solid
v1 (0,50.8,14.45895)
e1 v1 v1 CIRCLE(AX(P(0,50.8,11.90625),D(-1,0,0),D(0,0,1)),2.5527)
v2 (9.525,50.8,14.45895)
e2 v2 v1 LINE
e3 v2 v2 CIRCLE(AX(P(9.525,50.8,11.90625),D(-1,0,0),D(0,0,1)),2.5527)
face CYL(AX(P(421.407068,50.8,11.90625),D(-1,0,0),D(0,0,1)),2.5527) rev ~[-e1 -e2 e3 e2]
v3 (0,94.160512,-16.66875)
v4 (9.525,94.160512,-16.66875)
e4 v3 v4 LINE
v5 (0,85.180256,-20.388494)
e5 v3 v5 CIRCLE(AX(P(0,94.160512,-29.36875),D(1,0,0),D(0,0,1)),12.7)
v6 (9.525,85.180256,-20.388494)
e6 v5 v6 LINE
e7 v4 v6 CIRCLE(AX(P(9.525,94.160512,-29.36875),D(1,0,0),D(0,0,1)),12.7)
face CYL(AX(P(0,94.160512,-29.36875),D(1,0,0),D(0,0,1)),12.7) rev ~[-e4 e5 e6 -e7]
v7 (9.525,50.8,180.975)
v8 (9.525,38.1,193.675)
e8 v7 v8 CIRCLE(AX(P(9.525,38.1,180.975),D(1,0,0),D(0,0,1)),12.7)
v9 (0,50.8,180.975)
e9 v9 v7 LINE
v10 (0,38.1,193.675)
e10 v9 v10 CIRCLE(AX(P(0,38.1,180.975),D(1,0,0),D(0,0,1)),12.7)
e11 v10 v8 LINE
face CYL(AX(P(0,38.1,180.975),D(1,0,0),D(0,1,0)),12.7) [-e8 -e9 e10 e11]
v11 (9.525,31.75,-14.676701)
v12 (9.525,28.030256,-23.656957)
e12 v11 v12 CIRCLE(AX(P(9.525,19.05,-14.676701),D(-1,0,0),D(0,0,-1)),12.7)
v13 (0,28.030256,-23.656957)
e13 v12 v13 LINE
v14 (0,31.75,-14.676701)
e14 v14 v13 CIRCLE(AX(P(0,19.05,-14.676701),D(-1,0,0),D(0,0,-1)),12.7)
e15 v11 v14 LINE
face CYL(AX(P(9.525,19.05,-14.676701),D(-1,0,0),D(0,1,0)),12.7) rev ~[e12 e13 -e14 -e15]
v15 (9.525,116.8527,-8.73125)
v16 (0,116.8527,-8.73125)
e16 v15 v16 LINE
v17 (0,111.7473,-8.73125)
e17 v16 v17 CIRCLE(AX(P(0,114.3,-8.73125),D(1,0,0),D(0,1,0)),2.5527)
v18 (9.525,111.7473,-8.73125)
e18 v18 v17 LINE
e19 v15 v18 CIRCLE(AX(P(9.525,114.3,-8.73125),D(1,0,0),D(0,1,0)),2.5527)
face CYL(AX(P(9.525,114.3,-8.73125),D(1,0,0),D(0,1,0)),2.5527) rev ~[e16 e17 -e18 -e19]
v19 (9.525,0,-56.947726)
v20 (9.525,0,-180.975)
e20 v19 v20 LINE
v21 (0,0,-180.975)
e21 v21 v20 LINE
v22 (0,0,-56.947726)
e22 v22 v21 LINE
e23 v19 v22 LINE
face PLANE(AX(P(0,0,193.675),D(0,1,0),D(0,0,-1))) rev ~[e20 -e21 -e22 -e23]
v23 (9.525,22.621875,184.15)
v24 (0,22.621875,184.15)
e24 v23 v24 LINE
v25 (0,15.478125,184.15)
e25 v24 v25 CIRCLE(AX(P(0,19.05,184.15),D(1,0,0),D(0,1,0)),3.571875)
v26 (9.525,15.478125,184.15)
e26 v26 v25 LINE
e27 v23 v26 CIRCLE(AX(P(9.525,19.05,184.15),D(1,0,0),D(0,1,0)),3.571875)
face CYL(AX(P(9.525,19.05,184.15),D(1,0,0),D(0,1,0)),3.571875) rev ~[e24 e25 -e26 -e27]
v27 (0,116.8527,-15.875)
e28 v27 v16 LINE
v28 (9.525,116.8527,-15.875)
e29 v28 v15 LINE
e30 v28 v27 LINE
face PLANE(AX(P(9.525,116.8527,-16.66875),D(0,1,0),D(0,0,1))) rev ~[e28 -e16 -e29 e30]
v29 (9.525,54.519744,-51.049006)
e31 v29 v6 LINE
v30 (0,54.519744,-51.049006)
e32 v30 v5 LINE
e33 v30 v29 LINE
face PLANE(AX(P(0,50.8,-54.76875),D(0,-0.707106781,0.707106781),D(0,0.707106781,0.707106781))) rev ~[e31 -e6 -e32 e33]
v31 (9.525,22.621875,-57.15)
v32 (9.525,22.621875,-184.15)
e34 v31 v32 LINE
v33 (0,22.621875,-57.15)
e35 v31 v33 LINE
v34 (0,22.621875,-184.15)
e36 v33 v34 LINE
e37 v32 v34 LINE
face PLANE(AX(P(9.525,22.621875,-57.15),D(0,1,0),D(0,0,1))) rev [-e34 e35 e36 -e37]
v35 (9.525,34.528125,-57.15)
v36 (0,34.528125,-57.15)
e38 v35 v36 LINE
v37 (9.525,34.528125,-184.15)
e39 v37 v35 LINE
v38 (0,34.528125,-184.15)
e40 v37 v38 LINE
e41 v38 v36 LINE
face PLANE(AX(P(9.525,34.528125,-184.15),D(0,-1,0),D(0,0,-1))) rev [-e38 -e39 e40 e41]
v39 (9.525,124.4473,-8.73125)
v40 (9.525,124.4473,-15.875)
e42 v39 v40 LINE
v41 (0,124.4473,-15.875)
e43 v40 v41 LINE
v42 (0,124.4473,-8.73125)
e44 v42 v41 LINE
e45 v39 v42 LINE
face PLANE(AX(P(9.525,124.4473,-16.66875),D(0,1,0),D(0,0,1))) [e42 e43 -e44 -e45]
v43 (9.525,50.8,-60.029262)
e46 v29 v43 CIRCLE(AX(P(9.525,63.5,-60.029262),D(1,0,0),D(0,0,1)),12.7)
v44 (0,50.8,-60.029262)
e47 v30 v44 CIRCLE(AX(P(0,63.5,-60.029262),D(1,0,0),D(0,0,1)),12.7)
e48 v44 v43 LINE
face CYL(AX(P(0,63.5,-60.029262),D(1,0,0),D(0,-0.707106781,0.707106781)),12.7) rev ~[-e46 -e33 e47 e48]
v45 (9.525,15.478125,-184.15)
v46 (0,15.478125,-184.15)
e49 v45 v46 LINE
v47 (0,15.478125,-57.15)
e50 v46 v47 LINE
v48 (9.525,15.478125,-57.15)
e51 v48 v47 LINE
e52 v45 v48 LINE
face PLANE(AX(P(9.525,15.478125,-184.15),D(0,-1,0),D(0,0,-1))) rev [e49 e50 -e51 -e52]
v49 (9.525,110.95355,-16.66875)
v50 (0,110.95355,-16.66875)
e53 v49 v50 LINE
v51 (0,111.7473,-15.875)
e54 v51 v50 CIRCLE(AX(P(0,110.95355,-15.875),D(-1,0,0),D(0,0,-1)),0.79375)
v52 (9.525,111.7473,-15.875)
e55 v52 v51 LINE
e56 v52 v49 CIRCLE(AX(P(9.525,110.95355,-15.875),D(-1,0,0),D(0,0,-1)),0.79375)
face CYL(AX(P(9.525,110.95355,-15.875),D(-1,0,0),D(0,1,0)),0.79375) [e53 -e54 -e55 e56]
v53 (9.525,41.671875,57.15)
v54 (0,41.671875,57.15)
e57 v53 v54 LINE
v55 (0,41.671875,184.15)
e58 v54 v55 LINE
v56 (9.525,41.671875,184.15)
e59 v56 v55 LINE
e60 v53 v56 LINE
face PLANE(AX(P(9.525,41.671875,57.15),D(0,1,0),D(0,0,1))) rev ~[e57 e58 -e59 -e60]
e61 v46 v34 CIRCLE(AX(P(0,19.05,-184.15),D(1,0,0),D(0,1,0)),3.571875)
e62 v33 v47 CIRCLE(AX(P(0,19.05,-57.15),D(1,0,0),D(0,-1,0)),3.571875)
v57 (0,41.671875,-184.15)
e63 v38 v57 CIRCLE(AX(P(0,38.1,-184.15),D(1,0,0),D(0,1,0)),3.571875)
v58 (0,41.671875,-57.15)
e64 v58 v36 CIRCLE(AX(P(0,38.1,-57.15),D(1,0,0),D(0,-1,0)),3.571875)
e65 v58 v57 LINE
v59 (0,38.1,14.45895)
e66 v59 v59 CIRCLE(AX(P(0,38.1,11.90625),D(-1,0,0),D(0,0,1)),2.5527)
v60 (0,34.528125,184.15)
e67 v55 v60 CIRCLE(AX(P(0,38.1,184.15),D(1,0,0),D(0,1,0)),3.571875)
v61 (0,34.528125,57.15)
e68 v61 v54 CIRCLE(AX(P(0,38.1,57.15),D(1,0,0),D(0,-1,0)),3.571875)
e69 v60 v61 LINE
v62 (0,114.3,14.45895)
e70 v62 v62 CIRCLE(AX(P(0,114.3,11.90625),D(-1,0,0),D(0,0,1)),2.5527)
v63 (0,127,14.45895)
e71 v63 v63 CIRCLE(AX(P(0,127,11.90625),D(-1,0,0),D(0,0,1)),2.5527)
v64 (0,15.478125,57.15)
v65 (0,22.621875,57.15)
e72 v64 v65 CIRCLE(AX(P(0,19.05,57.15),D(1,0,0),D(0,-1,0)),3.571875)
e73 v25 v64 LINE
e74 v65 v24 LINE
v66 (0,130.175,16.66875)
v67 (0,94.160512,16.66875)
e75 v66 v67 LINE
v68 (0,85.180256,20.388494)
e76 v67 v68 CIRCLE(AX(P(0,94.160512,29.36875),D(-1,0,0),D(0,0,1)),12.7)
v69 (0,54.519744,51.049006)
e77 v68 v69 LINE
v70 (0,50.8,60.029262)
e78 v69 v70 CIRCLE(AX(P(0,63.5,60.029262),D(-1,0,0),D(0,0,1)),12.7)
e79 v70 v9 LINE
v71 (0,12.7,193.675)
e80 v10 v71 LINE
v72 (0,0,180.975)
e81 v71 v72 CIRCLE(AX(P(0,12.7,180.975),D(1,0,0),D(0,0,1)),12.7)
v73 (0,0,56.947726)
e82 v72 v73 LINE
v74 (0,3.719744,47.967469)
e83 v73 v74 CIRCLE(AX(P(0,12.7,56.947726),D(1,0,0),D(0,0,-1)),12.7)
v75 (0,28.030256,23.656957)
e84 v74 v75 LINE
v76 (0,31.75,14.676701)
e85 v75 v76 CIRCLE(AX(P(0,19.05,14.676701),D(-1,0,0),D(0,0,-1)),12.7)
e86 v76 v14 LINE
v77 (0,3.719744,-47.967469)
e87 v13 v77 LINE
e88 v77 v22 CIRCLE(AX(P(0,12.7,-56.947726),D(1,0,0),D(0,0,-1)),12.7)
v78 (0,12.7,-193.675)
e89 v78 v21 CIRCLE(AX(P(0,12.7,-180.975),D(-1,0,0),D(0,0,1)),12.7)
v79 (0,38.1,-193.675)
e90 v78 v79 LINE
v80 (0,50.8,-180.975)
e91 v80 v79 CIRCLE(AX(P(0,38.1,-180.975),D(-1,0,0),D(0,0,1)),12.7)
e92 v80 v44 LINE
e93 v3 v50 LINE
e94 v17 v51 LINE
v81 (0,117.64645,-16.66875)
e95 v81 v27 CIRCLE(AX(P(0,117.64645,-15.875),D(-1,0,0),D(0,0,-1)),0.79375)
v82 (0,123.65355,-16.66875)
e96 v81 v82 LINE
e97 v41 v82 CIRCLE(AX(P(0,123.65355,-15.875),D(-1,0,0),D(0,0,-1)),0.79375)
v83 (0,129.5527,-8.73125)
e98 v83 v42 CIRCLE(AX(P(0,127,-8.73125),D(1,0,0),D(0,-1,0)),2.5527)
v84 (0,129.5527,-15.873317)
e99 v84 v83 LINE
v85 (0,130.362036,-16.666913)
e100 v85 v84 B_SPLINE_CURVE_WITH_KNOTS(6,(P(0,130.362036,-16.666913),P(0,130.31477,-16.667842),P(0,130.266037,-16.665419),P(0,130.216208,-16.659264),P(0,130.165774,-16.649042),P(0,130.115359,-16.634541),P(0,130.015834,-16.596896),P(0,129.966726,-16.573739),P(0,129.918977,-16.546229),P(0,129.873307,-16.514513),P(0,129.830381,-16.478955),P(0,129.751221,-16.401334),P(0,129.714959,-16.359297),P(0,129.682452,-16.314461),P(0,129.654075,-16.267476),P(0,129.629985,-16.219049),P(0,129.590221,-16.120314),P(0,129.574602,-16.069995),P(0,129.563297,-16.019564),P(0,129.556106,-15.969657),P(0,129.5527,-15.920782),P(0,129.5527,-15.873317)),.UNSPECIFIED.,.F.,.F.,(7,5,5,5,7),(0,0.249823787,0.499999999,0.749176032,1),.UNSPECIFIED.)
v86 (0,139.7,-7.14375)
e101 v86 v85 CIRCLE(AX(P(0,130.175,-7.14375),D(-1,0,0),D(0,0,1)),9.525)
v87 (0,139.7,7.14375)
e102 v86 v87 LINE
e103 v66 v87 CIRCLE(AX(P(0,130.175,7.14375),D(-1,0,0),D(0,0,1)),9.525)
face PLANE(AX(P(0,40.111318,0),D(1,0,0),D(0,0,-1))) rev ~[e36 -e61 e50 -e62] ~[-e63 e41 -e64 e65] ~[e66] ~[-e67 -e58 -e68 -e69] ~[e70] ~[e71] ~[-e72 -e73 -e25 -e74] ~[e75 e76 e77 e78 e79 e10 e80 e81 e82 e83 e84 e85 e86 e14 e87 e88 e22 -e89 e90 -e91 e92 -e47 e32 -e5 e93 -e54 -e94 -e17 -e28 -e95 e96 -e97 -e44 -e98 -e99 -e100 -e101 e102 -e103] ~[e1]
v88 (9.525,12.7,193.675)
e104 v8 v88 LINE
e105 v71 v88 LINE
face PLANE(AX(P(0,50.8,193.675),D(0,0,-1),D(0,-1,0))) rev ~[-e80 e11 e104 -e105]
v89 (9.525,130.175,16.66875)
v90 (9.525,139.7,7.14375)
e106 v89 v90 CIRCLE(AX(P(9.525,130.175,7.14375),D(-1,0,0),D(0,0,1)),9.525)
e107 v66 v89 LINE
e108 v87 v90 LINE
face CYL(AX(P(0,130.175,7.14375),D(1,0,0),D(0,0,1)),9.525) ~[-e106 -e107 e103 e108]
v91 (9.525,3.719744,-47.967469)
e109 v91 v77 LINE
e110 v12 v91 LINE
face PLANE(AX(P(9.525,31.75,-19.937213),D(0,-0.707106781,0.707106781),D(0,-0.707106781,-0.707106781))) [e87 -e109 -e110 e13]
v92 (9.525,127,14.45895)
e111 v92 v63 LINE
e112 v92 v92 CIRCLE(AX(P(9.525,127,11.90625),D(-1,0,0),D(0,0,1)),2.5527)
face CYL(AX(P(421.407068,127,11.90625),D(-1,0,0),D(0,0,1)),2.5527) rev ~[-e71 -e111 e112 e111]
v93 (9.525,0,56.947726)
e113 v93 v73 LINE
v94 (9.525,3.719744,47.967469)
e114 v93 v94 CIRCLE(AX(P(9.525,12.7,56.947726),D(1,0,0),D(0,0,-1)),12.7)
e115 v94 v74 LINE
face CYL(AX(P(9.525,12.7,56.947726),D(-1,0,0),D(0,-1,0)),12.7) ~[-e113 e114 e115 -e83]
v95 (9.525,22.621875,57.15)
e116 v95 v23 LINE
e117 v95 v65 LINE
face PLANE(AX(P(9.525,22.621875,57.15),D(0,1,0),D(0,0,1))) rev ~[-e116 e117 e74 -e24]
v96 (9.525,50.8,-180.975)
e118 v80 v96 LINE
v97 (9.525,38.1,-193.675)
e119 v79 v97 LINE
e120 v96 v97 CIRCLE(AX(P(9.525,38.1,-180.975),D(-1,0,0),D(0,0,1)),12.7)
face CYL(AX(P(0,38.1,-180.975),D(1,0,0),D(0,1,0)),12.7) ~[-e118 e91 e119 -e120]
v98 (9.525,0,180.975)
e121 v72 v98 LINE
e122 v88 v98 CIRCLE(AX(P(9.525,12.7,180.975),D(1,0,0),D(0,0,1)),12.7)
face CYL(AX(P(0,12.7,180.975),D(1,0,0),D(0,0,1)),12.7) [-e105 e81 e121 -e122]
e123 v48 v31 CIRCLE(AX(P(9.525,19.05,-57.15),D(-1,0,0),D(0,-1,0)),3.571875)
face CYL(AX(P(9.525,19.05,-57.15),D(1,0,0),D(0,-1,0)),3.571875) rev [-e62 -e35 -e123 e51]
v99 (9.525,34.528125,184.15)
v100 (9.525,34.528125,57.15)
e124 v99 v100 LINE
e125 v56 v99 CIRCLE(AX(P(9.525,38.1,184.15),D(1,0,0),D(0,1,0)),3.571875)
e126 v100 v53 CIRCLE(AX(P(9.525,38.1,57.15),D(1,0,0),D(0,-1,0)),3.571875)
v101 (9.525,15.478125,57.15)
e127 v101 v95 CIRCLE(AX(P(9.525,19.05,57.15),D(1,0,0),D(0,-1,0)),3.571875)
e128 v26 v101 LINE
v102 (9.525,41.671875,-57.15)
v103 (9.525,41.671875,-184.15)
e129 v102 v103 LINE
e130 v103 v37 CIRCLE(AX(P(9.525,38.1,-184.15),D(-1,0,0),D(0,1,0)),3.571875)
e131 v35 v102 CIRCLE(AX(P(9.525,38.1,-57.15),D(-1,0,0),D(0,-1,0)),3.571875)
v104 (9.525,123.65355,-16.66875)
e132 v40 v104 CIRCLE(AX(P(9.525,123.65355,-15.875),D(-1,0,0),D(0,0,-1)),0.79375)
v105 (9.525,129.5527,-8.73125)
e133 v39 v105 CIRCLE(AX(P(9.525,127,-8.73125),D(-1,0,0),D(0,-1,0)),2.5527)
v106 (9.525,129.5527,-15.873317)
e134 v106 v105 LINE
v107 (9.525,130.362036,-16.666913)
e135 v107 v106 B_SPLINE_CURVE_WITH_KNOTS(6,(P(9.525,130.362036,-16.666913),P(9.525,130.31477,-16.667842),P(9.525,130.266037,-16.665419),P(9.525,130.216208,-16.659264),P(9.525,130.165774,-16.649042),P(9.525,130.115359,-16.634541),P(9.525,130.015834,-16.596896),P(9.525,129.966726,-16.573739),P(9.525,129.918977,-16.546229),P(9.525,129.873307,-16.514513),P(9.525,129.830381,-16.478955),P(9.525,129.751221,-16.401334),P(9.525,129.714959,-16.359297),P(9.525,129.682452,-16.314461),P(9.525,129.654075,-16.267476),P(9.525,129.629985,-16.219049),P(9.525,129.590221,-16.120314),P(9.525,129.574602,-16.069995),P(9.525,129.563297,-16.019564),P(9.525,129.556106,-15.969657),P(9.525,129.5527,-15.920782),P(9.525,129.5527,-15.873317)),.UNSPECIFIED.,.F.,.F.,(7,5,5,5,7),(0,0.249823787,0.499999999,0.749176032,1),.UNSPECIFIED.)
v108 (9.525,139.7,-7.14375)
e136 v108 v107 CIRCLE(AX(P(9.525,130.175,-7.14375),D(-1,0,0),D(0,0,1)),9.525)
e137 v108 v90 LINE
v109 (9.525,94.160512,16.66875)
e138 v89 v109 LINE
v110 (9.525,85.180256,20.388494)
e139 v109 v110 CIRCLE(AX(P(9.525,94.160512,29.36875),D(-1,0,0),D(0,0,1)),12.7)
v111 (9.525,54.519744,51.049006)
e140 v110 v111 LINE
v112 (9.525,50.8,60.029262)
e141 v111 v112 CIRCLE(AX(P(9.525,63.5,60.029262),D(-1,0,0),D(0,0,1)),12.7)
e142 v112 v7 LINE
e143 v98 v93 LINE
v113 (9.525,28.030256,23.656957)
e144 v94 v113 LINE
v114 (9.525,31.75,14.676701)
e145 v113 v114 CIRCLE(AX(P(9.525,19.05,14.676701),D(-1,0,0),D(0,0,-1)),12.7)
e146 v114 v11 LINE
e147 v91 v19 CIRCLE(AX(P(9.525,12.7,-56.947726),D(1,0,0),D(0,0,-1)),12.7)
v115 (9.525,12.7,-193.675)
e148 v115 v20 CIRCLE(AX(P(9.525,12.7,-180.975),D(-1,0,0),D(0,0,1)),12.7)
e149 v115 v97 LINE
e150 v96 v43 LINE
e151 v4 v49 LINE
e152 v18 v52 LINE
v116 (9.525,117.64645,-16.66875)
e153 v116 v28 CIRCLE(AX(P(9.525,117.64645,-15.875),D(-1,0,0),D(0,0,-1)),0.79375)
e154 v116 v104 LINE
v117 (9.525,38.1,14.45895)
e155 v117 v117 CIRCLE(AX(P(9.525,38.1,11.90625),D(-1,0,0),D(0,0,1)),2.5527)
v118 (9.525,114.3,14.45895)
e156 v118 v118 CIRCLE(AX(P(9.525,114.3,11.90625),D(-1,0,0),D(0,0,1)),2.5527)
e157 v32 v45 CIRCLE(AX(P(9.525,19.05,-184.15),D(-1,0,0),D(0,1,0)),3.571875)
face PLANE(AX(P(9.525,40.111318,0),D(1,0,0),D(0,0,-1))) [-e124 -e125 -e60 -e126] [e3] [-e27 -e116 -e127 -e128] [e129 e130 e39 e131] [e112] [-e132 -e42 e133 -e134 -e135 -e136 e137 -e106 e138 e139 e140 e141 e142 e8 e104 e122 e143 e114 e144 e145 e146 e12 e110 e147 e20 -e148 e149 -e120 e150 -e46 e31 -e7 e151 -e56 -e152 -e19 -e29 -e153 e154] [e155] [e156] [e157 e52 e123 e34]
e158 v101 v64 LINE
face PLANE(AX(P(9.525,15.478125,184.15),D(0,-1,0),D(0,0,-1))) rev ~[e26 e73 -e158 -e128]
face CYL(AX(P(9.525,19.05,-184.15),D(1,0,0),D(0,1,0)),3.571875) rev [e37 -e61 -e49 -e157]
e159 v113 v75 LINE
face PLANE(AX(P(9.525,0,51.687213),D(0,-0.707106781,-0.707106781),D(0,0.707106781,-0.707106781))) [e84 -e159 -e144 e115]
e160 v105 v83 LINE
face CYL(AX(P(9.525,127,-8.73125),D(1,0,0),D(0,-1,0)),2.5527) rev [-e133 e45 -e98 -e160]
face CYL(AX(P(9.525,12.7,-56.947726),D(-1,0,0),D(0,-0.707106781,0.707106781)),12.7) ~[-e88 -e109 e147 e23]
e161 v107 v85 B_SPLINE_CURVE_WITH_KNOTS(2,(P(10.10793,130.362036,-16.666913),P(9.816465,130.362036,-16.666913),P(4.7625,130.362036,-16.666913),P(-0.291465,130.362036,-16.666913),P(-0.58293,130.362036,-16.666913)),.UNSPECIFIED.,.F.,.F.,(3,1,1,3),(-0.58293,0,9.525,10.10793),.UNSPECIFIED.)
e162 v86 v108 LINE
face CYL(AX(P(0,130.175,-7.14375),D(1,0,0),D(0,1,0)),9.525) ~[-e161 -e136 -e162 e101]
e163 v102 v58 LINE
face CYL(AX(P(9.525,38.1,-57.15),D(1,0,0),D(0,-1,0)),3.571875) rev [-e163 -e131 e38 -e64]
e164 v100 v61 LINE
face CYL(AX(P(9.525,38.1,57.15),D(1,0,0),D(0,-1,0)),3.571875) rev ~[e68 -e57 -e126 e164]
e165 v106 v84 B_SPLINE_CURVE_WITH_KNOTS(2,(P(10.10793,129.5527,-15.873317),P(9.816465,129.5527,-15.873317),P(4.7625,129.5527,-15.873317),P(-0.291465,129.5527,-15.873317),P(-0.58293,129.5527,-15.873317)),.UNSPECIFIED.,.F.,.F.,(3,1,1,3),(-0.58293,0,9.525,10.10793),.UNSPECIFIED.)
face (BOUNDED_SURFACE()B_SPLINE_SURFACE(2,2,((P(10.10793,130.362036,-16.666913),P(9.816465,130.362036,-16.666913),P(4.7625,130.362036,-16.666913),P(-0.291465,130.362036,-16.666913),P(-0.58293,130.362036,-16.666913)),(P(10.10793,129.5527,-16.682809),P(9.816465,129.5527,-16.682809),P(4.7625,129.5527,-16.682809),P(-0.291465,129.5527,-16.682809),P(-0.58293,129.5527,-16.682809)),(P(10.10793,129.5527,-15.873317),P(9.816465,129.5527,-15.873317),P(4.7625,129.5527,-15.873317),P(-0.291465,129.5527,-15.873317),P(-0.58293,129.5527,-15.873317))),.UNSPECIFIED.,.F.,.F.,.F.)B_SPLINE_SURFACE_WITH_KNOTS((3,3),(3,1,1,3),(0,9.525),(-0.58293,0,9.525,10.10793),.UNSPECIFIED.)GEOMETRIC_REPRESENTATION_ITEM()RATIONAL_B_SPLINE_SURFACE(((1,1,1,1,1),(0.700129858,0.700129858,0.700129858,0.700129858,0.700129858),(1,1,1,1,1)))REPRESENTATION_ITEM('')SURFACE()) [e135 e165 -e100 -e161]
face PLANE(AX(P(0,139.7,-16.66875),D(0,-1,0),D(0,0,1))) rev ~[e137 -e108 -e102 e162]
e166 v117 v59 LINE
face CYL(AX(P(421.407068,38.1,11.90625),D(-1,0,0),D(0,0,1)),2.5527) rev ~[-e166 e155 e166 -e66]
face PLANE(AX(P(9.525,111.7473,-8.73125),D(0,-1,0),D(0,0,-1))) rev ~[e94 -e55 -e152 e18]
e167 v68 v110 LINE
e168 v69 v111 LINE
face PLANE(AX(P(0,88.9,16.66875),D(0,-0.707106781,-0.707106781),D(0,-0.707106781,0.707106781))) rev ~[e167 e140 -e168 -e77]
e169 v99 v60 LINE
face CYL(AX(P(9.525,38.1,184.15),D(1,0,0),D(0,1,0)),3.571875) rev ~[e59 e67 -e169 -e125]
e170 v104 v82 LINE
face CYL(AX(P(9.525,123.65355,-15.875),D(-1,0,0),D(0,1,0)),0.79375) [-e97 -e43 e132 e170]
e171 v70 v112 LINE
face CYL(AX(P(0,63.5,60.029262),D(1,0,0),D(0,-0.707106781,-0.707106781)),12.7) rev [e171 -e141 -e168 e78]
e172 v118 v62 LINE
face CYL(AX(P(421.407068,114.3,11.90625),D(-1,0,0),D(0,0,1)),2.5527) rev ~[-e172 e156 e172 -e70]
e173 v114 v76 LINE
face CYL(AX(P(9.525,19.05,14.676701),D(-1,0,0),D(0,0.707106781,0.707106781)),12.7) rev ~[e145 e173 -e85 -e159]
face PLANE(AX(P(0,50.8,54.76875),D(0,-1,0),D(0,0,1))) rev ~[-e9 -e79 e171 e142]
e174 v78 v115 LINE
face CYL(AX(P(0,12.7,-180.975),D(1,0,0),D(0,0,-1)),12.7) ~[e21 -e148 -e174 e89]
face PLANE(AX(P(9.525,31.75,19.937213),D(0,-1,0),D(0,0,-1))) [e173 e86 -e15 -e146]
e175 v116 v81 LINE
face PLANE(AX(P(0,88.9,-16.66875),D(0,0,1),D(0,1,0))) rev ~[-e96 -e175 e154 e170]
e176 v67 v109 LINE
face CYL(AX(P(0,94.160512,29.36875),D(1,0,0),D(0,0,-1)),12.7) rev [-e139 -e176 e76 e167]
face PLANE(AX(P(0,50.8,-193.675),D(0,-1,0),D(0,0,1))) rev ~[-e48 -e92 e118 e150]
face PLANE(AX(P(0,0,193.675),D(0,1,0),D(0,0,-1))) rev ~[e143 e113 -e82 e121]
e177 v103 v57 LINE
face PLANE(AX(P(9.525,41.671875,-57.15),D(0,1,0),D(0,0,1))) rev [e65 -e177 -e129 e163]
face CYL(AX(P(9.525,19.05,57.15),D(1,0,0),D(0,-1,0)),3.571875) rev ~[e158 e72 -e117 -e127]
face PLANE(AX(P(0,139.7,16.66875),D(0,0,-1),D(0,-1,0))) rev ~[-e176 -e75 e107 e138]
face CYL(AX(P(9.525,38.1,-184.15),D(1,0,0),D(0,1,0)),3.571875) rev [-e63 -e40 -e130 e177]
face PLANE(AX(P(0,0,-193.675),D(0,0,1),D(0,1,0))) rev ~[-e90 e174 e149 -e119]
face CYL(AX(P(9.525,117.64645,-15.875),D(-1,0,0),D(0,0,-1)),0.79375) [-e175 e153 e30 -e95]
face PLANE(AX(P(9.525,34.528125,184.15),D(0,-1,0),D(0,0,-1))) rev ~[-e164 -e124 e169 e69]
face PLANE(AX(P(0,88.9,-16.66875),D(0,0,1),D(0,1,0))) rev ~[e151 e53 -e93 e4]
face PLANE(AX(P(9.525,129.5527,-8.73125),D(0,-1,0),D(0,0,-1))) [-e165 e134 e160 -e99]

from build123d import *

# Parameters (mm, degrees)
BOSS_EXTRUDE1_DEPTH    = 9.525
CUT_EXTRUDE1_DEPTH     = 239.991257685
CUT_EXTRUDE3_DEPTH     = 239.991257685
F_10_CLEARANCE_HOLE1_D = 5.1054
FILLET1_R              = 9.525
FILLET2_R              = 12.7
CUT_EXTRUDE4_DEPTH     = 239.991257685
FILLET3_R              = 0.79375


with BuildPart() as part:
    # Sketch1 → Boss-Extrude1 (new body)
    with BuildSketch(Plane(origin=(0, 0, 0), x_dir=(0, 0, -1), z_dir=(1, 0, 0))):
        Polygon((-193.675, 0), (193.675, 0), (193.675, 50.8), (54.76875, 50.8), (16.66875, 88.9), (16.66875, 139.7), (-16.66875, 139.7), (-16.66875, 88.9), (-54.76875, 50.8), (-193.675, 50.8), align=None)
    extrude(amount=BOSS_EXTRUDE1_DEPTH)

    # Sketch2 → Cut-Extrude1 (cut, through all)
    with BuildSketch(Plane(origin=(9.525, 0, 0), x_dir=(0, 0, -1), z_dir=(1, 0, 0))):
        with BuildLine():
            Line((-184.15, 34.528125), (-57.15, 34.528125))
            ThreePointArc((-57.15, 34.528125), (-53.578125, 38.1), (-57.15, 41.671875))
            Line((-57.15, 41.671875), (-184.15, 41.671875))
            ThreePointArc((-184.15, 41.671875), (-187.721875, 38.1), (-184.15, 34.528125))
        make_face()
        with BuildLine():
            Line((-184.15, 15.478125), (-57.15, 15.478125))
            ThreePointArc((-57.15, 15.478125), (-53.578125, 19.05), (-57.15, 22.621875))
            Line((-57.15, 22.621875), (-184.15, 22.621875))
            ThreePointArc((-184.15, 22.621875), (-187.721875, 19.05), (-184.15, 15.478125))
        make_face()
    cut_extrude1 = extrude(amount=-CUT_EXTRUDE1_DEPTH, mode=Mode.SUBTRACT)

    # Mirror1: Cut-Extrude1 across plane
    add(cut_extrude1.mirror(Plane.XY), mode=Mode.SUBTRACT)

    # Sketch4 → Cut-Extrude3 (cut, through all)
    with BuildSketch(Plane(origin=(9.525, 0, 0), x_dir=(0, 0, -1), z_dir=(1, 0, 0))):
        Polygon((-51.687213274, 0), (-19.937213274, 31.75), (19.937213274, 31.75), (51.687213274, 0), align=None)
    extrude(amount=-CUT_EXTRUDE3_DEPTH, mode=Mode.SUBTRACT)

    # #10 Clearance Hole1 (through all)
    with Locations(Plane(origin=(9.525, 0, 0), x_dir=(0, 0, -1), z_dir=(1, 0, 0))):
        with Locations((-11.90625, 127), (11.90625, 127), (-11.90625, 114.3), (-11.90625, 38.1), (11.90625, 114.3), (-11.90625, 50.8)):
            Hole(F_10_CLEARANCE_HOLE1_D / 2)

    # Fillet1
    fillet1_edges = [part.edges().sort_by_distance(p)[0] for p in [
        (4.7625, 139.7, 16.66875),
        (4.7625, 139.7, -16.66875),
    ]]
    fillet(fillet1_edges, radius=FILLET1_R)

    # Fillet2
    fillet2_edges = [part.edges().sort_by_distance(p)[0] for p in [
        (4.7625, 50.8, 193.675),
        (4.7625, 50.8, 54.76875),
        (4.7625, 88.9, 16.66875),
        (4.7625, 88.9, -16.66875),
        (4.7625, 50.8, -54.76875),
        (4.7625, 50.8, -193.675),
        (4.7625, 0, -193.675),
        (4.7625, 0, 193.675),
        (4.7625, 31.75, 19.937213274),
        (4.7625, 31.75, -19.937213274),
        (4.7625, 0, -51.687213274),
        (4.7625, 0, 51.687213274),
    ]]
    fillet(fillet2_edges, radius=FILLET2_R)

    # Sketch7 → Cut-Extrude4 (cut, through all)
    with BuildSketch(Plane(origin=(9.525, 0, 0), x_dir=(0, 0, -1), z_dir=(1, 0, 0))):
        with BuildLine():
            Line((11.90625, 129.5527), (16.66875, 129.5527))
            ThreePointArc((16.66875, 129.5527), (19.22145, 127), (16.66875, 124.4473))
            Line((16.66875, 124.4473), (11.90625, 124.4473))
            Line((11.90625, 124.4473), (8.73125, 124.4473))
            ThreePointArc((8.73125, 124.4473), (6.17855, 127), (8.73125, 129.5527))
            Line((8.73125, 129.5527), (11.90625, 129.5527))
        make_face()
        with BuildLine():
            Line((16.66875, 116.8527), (11.90625, 116.8527))
            Line((11.90625, 116.8527), (8.73125, 116.8527))
            ThreePointArc((8.73125, 116.8527), (6.17855, 114.3), (8.73125, 111.7473))
            Line((8.73125, 111.7473), (11.90625, 111.7473))
            Line((11.90625, 111.7473), (16.66875, 111.7473))
            ThreePointArc((16.66875, 111.7473), (19.22145, 114.3), (16.66875, 116.8527))
        make_face()
    extrude(amount=-CUT_EXTRUDE4_DEPTH, mode=Mode.SUBTRACT)

    # Fillet3
    fillet3_edges = [part.edges().sort_by_distance(p)[0] for p in [
        (4.7625, 111.7473, -16.66875),
        (4.7625, 116.8527, -16.66875),
        (4.7625, 124.4473, -16.66875),
        (4.7625, 129.5527, -16.66875),
    ]]
    fillet(fillet3_edges, radius=FILLET3_R)


solid = part.part
